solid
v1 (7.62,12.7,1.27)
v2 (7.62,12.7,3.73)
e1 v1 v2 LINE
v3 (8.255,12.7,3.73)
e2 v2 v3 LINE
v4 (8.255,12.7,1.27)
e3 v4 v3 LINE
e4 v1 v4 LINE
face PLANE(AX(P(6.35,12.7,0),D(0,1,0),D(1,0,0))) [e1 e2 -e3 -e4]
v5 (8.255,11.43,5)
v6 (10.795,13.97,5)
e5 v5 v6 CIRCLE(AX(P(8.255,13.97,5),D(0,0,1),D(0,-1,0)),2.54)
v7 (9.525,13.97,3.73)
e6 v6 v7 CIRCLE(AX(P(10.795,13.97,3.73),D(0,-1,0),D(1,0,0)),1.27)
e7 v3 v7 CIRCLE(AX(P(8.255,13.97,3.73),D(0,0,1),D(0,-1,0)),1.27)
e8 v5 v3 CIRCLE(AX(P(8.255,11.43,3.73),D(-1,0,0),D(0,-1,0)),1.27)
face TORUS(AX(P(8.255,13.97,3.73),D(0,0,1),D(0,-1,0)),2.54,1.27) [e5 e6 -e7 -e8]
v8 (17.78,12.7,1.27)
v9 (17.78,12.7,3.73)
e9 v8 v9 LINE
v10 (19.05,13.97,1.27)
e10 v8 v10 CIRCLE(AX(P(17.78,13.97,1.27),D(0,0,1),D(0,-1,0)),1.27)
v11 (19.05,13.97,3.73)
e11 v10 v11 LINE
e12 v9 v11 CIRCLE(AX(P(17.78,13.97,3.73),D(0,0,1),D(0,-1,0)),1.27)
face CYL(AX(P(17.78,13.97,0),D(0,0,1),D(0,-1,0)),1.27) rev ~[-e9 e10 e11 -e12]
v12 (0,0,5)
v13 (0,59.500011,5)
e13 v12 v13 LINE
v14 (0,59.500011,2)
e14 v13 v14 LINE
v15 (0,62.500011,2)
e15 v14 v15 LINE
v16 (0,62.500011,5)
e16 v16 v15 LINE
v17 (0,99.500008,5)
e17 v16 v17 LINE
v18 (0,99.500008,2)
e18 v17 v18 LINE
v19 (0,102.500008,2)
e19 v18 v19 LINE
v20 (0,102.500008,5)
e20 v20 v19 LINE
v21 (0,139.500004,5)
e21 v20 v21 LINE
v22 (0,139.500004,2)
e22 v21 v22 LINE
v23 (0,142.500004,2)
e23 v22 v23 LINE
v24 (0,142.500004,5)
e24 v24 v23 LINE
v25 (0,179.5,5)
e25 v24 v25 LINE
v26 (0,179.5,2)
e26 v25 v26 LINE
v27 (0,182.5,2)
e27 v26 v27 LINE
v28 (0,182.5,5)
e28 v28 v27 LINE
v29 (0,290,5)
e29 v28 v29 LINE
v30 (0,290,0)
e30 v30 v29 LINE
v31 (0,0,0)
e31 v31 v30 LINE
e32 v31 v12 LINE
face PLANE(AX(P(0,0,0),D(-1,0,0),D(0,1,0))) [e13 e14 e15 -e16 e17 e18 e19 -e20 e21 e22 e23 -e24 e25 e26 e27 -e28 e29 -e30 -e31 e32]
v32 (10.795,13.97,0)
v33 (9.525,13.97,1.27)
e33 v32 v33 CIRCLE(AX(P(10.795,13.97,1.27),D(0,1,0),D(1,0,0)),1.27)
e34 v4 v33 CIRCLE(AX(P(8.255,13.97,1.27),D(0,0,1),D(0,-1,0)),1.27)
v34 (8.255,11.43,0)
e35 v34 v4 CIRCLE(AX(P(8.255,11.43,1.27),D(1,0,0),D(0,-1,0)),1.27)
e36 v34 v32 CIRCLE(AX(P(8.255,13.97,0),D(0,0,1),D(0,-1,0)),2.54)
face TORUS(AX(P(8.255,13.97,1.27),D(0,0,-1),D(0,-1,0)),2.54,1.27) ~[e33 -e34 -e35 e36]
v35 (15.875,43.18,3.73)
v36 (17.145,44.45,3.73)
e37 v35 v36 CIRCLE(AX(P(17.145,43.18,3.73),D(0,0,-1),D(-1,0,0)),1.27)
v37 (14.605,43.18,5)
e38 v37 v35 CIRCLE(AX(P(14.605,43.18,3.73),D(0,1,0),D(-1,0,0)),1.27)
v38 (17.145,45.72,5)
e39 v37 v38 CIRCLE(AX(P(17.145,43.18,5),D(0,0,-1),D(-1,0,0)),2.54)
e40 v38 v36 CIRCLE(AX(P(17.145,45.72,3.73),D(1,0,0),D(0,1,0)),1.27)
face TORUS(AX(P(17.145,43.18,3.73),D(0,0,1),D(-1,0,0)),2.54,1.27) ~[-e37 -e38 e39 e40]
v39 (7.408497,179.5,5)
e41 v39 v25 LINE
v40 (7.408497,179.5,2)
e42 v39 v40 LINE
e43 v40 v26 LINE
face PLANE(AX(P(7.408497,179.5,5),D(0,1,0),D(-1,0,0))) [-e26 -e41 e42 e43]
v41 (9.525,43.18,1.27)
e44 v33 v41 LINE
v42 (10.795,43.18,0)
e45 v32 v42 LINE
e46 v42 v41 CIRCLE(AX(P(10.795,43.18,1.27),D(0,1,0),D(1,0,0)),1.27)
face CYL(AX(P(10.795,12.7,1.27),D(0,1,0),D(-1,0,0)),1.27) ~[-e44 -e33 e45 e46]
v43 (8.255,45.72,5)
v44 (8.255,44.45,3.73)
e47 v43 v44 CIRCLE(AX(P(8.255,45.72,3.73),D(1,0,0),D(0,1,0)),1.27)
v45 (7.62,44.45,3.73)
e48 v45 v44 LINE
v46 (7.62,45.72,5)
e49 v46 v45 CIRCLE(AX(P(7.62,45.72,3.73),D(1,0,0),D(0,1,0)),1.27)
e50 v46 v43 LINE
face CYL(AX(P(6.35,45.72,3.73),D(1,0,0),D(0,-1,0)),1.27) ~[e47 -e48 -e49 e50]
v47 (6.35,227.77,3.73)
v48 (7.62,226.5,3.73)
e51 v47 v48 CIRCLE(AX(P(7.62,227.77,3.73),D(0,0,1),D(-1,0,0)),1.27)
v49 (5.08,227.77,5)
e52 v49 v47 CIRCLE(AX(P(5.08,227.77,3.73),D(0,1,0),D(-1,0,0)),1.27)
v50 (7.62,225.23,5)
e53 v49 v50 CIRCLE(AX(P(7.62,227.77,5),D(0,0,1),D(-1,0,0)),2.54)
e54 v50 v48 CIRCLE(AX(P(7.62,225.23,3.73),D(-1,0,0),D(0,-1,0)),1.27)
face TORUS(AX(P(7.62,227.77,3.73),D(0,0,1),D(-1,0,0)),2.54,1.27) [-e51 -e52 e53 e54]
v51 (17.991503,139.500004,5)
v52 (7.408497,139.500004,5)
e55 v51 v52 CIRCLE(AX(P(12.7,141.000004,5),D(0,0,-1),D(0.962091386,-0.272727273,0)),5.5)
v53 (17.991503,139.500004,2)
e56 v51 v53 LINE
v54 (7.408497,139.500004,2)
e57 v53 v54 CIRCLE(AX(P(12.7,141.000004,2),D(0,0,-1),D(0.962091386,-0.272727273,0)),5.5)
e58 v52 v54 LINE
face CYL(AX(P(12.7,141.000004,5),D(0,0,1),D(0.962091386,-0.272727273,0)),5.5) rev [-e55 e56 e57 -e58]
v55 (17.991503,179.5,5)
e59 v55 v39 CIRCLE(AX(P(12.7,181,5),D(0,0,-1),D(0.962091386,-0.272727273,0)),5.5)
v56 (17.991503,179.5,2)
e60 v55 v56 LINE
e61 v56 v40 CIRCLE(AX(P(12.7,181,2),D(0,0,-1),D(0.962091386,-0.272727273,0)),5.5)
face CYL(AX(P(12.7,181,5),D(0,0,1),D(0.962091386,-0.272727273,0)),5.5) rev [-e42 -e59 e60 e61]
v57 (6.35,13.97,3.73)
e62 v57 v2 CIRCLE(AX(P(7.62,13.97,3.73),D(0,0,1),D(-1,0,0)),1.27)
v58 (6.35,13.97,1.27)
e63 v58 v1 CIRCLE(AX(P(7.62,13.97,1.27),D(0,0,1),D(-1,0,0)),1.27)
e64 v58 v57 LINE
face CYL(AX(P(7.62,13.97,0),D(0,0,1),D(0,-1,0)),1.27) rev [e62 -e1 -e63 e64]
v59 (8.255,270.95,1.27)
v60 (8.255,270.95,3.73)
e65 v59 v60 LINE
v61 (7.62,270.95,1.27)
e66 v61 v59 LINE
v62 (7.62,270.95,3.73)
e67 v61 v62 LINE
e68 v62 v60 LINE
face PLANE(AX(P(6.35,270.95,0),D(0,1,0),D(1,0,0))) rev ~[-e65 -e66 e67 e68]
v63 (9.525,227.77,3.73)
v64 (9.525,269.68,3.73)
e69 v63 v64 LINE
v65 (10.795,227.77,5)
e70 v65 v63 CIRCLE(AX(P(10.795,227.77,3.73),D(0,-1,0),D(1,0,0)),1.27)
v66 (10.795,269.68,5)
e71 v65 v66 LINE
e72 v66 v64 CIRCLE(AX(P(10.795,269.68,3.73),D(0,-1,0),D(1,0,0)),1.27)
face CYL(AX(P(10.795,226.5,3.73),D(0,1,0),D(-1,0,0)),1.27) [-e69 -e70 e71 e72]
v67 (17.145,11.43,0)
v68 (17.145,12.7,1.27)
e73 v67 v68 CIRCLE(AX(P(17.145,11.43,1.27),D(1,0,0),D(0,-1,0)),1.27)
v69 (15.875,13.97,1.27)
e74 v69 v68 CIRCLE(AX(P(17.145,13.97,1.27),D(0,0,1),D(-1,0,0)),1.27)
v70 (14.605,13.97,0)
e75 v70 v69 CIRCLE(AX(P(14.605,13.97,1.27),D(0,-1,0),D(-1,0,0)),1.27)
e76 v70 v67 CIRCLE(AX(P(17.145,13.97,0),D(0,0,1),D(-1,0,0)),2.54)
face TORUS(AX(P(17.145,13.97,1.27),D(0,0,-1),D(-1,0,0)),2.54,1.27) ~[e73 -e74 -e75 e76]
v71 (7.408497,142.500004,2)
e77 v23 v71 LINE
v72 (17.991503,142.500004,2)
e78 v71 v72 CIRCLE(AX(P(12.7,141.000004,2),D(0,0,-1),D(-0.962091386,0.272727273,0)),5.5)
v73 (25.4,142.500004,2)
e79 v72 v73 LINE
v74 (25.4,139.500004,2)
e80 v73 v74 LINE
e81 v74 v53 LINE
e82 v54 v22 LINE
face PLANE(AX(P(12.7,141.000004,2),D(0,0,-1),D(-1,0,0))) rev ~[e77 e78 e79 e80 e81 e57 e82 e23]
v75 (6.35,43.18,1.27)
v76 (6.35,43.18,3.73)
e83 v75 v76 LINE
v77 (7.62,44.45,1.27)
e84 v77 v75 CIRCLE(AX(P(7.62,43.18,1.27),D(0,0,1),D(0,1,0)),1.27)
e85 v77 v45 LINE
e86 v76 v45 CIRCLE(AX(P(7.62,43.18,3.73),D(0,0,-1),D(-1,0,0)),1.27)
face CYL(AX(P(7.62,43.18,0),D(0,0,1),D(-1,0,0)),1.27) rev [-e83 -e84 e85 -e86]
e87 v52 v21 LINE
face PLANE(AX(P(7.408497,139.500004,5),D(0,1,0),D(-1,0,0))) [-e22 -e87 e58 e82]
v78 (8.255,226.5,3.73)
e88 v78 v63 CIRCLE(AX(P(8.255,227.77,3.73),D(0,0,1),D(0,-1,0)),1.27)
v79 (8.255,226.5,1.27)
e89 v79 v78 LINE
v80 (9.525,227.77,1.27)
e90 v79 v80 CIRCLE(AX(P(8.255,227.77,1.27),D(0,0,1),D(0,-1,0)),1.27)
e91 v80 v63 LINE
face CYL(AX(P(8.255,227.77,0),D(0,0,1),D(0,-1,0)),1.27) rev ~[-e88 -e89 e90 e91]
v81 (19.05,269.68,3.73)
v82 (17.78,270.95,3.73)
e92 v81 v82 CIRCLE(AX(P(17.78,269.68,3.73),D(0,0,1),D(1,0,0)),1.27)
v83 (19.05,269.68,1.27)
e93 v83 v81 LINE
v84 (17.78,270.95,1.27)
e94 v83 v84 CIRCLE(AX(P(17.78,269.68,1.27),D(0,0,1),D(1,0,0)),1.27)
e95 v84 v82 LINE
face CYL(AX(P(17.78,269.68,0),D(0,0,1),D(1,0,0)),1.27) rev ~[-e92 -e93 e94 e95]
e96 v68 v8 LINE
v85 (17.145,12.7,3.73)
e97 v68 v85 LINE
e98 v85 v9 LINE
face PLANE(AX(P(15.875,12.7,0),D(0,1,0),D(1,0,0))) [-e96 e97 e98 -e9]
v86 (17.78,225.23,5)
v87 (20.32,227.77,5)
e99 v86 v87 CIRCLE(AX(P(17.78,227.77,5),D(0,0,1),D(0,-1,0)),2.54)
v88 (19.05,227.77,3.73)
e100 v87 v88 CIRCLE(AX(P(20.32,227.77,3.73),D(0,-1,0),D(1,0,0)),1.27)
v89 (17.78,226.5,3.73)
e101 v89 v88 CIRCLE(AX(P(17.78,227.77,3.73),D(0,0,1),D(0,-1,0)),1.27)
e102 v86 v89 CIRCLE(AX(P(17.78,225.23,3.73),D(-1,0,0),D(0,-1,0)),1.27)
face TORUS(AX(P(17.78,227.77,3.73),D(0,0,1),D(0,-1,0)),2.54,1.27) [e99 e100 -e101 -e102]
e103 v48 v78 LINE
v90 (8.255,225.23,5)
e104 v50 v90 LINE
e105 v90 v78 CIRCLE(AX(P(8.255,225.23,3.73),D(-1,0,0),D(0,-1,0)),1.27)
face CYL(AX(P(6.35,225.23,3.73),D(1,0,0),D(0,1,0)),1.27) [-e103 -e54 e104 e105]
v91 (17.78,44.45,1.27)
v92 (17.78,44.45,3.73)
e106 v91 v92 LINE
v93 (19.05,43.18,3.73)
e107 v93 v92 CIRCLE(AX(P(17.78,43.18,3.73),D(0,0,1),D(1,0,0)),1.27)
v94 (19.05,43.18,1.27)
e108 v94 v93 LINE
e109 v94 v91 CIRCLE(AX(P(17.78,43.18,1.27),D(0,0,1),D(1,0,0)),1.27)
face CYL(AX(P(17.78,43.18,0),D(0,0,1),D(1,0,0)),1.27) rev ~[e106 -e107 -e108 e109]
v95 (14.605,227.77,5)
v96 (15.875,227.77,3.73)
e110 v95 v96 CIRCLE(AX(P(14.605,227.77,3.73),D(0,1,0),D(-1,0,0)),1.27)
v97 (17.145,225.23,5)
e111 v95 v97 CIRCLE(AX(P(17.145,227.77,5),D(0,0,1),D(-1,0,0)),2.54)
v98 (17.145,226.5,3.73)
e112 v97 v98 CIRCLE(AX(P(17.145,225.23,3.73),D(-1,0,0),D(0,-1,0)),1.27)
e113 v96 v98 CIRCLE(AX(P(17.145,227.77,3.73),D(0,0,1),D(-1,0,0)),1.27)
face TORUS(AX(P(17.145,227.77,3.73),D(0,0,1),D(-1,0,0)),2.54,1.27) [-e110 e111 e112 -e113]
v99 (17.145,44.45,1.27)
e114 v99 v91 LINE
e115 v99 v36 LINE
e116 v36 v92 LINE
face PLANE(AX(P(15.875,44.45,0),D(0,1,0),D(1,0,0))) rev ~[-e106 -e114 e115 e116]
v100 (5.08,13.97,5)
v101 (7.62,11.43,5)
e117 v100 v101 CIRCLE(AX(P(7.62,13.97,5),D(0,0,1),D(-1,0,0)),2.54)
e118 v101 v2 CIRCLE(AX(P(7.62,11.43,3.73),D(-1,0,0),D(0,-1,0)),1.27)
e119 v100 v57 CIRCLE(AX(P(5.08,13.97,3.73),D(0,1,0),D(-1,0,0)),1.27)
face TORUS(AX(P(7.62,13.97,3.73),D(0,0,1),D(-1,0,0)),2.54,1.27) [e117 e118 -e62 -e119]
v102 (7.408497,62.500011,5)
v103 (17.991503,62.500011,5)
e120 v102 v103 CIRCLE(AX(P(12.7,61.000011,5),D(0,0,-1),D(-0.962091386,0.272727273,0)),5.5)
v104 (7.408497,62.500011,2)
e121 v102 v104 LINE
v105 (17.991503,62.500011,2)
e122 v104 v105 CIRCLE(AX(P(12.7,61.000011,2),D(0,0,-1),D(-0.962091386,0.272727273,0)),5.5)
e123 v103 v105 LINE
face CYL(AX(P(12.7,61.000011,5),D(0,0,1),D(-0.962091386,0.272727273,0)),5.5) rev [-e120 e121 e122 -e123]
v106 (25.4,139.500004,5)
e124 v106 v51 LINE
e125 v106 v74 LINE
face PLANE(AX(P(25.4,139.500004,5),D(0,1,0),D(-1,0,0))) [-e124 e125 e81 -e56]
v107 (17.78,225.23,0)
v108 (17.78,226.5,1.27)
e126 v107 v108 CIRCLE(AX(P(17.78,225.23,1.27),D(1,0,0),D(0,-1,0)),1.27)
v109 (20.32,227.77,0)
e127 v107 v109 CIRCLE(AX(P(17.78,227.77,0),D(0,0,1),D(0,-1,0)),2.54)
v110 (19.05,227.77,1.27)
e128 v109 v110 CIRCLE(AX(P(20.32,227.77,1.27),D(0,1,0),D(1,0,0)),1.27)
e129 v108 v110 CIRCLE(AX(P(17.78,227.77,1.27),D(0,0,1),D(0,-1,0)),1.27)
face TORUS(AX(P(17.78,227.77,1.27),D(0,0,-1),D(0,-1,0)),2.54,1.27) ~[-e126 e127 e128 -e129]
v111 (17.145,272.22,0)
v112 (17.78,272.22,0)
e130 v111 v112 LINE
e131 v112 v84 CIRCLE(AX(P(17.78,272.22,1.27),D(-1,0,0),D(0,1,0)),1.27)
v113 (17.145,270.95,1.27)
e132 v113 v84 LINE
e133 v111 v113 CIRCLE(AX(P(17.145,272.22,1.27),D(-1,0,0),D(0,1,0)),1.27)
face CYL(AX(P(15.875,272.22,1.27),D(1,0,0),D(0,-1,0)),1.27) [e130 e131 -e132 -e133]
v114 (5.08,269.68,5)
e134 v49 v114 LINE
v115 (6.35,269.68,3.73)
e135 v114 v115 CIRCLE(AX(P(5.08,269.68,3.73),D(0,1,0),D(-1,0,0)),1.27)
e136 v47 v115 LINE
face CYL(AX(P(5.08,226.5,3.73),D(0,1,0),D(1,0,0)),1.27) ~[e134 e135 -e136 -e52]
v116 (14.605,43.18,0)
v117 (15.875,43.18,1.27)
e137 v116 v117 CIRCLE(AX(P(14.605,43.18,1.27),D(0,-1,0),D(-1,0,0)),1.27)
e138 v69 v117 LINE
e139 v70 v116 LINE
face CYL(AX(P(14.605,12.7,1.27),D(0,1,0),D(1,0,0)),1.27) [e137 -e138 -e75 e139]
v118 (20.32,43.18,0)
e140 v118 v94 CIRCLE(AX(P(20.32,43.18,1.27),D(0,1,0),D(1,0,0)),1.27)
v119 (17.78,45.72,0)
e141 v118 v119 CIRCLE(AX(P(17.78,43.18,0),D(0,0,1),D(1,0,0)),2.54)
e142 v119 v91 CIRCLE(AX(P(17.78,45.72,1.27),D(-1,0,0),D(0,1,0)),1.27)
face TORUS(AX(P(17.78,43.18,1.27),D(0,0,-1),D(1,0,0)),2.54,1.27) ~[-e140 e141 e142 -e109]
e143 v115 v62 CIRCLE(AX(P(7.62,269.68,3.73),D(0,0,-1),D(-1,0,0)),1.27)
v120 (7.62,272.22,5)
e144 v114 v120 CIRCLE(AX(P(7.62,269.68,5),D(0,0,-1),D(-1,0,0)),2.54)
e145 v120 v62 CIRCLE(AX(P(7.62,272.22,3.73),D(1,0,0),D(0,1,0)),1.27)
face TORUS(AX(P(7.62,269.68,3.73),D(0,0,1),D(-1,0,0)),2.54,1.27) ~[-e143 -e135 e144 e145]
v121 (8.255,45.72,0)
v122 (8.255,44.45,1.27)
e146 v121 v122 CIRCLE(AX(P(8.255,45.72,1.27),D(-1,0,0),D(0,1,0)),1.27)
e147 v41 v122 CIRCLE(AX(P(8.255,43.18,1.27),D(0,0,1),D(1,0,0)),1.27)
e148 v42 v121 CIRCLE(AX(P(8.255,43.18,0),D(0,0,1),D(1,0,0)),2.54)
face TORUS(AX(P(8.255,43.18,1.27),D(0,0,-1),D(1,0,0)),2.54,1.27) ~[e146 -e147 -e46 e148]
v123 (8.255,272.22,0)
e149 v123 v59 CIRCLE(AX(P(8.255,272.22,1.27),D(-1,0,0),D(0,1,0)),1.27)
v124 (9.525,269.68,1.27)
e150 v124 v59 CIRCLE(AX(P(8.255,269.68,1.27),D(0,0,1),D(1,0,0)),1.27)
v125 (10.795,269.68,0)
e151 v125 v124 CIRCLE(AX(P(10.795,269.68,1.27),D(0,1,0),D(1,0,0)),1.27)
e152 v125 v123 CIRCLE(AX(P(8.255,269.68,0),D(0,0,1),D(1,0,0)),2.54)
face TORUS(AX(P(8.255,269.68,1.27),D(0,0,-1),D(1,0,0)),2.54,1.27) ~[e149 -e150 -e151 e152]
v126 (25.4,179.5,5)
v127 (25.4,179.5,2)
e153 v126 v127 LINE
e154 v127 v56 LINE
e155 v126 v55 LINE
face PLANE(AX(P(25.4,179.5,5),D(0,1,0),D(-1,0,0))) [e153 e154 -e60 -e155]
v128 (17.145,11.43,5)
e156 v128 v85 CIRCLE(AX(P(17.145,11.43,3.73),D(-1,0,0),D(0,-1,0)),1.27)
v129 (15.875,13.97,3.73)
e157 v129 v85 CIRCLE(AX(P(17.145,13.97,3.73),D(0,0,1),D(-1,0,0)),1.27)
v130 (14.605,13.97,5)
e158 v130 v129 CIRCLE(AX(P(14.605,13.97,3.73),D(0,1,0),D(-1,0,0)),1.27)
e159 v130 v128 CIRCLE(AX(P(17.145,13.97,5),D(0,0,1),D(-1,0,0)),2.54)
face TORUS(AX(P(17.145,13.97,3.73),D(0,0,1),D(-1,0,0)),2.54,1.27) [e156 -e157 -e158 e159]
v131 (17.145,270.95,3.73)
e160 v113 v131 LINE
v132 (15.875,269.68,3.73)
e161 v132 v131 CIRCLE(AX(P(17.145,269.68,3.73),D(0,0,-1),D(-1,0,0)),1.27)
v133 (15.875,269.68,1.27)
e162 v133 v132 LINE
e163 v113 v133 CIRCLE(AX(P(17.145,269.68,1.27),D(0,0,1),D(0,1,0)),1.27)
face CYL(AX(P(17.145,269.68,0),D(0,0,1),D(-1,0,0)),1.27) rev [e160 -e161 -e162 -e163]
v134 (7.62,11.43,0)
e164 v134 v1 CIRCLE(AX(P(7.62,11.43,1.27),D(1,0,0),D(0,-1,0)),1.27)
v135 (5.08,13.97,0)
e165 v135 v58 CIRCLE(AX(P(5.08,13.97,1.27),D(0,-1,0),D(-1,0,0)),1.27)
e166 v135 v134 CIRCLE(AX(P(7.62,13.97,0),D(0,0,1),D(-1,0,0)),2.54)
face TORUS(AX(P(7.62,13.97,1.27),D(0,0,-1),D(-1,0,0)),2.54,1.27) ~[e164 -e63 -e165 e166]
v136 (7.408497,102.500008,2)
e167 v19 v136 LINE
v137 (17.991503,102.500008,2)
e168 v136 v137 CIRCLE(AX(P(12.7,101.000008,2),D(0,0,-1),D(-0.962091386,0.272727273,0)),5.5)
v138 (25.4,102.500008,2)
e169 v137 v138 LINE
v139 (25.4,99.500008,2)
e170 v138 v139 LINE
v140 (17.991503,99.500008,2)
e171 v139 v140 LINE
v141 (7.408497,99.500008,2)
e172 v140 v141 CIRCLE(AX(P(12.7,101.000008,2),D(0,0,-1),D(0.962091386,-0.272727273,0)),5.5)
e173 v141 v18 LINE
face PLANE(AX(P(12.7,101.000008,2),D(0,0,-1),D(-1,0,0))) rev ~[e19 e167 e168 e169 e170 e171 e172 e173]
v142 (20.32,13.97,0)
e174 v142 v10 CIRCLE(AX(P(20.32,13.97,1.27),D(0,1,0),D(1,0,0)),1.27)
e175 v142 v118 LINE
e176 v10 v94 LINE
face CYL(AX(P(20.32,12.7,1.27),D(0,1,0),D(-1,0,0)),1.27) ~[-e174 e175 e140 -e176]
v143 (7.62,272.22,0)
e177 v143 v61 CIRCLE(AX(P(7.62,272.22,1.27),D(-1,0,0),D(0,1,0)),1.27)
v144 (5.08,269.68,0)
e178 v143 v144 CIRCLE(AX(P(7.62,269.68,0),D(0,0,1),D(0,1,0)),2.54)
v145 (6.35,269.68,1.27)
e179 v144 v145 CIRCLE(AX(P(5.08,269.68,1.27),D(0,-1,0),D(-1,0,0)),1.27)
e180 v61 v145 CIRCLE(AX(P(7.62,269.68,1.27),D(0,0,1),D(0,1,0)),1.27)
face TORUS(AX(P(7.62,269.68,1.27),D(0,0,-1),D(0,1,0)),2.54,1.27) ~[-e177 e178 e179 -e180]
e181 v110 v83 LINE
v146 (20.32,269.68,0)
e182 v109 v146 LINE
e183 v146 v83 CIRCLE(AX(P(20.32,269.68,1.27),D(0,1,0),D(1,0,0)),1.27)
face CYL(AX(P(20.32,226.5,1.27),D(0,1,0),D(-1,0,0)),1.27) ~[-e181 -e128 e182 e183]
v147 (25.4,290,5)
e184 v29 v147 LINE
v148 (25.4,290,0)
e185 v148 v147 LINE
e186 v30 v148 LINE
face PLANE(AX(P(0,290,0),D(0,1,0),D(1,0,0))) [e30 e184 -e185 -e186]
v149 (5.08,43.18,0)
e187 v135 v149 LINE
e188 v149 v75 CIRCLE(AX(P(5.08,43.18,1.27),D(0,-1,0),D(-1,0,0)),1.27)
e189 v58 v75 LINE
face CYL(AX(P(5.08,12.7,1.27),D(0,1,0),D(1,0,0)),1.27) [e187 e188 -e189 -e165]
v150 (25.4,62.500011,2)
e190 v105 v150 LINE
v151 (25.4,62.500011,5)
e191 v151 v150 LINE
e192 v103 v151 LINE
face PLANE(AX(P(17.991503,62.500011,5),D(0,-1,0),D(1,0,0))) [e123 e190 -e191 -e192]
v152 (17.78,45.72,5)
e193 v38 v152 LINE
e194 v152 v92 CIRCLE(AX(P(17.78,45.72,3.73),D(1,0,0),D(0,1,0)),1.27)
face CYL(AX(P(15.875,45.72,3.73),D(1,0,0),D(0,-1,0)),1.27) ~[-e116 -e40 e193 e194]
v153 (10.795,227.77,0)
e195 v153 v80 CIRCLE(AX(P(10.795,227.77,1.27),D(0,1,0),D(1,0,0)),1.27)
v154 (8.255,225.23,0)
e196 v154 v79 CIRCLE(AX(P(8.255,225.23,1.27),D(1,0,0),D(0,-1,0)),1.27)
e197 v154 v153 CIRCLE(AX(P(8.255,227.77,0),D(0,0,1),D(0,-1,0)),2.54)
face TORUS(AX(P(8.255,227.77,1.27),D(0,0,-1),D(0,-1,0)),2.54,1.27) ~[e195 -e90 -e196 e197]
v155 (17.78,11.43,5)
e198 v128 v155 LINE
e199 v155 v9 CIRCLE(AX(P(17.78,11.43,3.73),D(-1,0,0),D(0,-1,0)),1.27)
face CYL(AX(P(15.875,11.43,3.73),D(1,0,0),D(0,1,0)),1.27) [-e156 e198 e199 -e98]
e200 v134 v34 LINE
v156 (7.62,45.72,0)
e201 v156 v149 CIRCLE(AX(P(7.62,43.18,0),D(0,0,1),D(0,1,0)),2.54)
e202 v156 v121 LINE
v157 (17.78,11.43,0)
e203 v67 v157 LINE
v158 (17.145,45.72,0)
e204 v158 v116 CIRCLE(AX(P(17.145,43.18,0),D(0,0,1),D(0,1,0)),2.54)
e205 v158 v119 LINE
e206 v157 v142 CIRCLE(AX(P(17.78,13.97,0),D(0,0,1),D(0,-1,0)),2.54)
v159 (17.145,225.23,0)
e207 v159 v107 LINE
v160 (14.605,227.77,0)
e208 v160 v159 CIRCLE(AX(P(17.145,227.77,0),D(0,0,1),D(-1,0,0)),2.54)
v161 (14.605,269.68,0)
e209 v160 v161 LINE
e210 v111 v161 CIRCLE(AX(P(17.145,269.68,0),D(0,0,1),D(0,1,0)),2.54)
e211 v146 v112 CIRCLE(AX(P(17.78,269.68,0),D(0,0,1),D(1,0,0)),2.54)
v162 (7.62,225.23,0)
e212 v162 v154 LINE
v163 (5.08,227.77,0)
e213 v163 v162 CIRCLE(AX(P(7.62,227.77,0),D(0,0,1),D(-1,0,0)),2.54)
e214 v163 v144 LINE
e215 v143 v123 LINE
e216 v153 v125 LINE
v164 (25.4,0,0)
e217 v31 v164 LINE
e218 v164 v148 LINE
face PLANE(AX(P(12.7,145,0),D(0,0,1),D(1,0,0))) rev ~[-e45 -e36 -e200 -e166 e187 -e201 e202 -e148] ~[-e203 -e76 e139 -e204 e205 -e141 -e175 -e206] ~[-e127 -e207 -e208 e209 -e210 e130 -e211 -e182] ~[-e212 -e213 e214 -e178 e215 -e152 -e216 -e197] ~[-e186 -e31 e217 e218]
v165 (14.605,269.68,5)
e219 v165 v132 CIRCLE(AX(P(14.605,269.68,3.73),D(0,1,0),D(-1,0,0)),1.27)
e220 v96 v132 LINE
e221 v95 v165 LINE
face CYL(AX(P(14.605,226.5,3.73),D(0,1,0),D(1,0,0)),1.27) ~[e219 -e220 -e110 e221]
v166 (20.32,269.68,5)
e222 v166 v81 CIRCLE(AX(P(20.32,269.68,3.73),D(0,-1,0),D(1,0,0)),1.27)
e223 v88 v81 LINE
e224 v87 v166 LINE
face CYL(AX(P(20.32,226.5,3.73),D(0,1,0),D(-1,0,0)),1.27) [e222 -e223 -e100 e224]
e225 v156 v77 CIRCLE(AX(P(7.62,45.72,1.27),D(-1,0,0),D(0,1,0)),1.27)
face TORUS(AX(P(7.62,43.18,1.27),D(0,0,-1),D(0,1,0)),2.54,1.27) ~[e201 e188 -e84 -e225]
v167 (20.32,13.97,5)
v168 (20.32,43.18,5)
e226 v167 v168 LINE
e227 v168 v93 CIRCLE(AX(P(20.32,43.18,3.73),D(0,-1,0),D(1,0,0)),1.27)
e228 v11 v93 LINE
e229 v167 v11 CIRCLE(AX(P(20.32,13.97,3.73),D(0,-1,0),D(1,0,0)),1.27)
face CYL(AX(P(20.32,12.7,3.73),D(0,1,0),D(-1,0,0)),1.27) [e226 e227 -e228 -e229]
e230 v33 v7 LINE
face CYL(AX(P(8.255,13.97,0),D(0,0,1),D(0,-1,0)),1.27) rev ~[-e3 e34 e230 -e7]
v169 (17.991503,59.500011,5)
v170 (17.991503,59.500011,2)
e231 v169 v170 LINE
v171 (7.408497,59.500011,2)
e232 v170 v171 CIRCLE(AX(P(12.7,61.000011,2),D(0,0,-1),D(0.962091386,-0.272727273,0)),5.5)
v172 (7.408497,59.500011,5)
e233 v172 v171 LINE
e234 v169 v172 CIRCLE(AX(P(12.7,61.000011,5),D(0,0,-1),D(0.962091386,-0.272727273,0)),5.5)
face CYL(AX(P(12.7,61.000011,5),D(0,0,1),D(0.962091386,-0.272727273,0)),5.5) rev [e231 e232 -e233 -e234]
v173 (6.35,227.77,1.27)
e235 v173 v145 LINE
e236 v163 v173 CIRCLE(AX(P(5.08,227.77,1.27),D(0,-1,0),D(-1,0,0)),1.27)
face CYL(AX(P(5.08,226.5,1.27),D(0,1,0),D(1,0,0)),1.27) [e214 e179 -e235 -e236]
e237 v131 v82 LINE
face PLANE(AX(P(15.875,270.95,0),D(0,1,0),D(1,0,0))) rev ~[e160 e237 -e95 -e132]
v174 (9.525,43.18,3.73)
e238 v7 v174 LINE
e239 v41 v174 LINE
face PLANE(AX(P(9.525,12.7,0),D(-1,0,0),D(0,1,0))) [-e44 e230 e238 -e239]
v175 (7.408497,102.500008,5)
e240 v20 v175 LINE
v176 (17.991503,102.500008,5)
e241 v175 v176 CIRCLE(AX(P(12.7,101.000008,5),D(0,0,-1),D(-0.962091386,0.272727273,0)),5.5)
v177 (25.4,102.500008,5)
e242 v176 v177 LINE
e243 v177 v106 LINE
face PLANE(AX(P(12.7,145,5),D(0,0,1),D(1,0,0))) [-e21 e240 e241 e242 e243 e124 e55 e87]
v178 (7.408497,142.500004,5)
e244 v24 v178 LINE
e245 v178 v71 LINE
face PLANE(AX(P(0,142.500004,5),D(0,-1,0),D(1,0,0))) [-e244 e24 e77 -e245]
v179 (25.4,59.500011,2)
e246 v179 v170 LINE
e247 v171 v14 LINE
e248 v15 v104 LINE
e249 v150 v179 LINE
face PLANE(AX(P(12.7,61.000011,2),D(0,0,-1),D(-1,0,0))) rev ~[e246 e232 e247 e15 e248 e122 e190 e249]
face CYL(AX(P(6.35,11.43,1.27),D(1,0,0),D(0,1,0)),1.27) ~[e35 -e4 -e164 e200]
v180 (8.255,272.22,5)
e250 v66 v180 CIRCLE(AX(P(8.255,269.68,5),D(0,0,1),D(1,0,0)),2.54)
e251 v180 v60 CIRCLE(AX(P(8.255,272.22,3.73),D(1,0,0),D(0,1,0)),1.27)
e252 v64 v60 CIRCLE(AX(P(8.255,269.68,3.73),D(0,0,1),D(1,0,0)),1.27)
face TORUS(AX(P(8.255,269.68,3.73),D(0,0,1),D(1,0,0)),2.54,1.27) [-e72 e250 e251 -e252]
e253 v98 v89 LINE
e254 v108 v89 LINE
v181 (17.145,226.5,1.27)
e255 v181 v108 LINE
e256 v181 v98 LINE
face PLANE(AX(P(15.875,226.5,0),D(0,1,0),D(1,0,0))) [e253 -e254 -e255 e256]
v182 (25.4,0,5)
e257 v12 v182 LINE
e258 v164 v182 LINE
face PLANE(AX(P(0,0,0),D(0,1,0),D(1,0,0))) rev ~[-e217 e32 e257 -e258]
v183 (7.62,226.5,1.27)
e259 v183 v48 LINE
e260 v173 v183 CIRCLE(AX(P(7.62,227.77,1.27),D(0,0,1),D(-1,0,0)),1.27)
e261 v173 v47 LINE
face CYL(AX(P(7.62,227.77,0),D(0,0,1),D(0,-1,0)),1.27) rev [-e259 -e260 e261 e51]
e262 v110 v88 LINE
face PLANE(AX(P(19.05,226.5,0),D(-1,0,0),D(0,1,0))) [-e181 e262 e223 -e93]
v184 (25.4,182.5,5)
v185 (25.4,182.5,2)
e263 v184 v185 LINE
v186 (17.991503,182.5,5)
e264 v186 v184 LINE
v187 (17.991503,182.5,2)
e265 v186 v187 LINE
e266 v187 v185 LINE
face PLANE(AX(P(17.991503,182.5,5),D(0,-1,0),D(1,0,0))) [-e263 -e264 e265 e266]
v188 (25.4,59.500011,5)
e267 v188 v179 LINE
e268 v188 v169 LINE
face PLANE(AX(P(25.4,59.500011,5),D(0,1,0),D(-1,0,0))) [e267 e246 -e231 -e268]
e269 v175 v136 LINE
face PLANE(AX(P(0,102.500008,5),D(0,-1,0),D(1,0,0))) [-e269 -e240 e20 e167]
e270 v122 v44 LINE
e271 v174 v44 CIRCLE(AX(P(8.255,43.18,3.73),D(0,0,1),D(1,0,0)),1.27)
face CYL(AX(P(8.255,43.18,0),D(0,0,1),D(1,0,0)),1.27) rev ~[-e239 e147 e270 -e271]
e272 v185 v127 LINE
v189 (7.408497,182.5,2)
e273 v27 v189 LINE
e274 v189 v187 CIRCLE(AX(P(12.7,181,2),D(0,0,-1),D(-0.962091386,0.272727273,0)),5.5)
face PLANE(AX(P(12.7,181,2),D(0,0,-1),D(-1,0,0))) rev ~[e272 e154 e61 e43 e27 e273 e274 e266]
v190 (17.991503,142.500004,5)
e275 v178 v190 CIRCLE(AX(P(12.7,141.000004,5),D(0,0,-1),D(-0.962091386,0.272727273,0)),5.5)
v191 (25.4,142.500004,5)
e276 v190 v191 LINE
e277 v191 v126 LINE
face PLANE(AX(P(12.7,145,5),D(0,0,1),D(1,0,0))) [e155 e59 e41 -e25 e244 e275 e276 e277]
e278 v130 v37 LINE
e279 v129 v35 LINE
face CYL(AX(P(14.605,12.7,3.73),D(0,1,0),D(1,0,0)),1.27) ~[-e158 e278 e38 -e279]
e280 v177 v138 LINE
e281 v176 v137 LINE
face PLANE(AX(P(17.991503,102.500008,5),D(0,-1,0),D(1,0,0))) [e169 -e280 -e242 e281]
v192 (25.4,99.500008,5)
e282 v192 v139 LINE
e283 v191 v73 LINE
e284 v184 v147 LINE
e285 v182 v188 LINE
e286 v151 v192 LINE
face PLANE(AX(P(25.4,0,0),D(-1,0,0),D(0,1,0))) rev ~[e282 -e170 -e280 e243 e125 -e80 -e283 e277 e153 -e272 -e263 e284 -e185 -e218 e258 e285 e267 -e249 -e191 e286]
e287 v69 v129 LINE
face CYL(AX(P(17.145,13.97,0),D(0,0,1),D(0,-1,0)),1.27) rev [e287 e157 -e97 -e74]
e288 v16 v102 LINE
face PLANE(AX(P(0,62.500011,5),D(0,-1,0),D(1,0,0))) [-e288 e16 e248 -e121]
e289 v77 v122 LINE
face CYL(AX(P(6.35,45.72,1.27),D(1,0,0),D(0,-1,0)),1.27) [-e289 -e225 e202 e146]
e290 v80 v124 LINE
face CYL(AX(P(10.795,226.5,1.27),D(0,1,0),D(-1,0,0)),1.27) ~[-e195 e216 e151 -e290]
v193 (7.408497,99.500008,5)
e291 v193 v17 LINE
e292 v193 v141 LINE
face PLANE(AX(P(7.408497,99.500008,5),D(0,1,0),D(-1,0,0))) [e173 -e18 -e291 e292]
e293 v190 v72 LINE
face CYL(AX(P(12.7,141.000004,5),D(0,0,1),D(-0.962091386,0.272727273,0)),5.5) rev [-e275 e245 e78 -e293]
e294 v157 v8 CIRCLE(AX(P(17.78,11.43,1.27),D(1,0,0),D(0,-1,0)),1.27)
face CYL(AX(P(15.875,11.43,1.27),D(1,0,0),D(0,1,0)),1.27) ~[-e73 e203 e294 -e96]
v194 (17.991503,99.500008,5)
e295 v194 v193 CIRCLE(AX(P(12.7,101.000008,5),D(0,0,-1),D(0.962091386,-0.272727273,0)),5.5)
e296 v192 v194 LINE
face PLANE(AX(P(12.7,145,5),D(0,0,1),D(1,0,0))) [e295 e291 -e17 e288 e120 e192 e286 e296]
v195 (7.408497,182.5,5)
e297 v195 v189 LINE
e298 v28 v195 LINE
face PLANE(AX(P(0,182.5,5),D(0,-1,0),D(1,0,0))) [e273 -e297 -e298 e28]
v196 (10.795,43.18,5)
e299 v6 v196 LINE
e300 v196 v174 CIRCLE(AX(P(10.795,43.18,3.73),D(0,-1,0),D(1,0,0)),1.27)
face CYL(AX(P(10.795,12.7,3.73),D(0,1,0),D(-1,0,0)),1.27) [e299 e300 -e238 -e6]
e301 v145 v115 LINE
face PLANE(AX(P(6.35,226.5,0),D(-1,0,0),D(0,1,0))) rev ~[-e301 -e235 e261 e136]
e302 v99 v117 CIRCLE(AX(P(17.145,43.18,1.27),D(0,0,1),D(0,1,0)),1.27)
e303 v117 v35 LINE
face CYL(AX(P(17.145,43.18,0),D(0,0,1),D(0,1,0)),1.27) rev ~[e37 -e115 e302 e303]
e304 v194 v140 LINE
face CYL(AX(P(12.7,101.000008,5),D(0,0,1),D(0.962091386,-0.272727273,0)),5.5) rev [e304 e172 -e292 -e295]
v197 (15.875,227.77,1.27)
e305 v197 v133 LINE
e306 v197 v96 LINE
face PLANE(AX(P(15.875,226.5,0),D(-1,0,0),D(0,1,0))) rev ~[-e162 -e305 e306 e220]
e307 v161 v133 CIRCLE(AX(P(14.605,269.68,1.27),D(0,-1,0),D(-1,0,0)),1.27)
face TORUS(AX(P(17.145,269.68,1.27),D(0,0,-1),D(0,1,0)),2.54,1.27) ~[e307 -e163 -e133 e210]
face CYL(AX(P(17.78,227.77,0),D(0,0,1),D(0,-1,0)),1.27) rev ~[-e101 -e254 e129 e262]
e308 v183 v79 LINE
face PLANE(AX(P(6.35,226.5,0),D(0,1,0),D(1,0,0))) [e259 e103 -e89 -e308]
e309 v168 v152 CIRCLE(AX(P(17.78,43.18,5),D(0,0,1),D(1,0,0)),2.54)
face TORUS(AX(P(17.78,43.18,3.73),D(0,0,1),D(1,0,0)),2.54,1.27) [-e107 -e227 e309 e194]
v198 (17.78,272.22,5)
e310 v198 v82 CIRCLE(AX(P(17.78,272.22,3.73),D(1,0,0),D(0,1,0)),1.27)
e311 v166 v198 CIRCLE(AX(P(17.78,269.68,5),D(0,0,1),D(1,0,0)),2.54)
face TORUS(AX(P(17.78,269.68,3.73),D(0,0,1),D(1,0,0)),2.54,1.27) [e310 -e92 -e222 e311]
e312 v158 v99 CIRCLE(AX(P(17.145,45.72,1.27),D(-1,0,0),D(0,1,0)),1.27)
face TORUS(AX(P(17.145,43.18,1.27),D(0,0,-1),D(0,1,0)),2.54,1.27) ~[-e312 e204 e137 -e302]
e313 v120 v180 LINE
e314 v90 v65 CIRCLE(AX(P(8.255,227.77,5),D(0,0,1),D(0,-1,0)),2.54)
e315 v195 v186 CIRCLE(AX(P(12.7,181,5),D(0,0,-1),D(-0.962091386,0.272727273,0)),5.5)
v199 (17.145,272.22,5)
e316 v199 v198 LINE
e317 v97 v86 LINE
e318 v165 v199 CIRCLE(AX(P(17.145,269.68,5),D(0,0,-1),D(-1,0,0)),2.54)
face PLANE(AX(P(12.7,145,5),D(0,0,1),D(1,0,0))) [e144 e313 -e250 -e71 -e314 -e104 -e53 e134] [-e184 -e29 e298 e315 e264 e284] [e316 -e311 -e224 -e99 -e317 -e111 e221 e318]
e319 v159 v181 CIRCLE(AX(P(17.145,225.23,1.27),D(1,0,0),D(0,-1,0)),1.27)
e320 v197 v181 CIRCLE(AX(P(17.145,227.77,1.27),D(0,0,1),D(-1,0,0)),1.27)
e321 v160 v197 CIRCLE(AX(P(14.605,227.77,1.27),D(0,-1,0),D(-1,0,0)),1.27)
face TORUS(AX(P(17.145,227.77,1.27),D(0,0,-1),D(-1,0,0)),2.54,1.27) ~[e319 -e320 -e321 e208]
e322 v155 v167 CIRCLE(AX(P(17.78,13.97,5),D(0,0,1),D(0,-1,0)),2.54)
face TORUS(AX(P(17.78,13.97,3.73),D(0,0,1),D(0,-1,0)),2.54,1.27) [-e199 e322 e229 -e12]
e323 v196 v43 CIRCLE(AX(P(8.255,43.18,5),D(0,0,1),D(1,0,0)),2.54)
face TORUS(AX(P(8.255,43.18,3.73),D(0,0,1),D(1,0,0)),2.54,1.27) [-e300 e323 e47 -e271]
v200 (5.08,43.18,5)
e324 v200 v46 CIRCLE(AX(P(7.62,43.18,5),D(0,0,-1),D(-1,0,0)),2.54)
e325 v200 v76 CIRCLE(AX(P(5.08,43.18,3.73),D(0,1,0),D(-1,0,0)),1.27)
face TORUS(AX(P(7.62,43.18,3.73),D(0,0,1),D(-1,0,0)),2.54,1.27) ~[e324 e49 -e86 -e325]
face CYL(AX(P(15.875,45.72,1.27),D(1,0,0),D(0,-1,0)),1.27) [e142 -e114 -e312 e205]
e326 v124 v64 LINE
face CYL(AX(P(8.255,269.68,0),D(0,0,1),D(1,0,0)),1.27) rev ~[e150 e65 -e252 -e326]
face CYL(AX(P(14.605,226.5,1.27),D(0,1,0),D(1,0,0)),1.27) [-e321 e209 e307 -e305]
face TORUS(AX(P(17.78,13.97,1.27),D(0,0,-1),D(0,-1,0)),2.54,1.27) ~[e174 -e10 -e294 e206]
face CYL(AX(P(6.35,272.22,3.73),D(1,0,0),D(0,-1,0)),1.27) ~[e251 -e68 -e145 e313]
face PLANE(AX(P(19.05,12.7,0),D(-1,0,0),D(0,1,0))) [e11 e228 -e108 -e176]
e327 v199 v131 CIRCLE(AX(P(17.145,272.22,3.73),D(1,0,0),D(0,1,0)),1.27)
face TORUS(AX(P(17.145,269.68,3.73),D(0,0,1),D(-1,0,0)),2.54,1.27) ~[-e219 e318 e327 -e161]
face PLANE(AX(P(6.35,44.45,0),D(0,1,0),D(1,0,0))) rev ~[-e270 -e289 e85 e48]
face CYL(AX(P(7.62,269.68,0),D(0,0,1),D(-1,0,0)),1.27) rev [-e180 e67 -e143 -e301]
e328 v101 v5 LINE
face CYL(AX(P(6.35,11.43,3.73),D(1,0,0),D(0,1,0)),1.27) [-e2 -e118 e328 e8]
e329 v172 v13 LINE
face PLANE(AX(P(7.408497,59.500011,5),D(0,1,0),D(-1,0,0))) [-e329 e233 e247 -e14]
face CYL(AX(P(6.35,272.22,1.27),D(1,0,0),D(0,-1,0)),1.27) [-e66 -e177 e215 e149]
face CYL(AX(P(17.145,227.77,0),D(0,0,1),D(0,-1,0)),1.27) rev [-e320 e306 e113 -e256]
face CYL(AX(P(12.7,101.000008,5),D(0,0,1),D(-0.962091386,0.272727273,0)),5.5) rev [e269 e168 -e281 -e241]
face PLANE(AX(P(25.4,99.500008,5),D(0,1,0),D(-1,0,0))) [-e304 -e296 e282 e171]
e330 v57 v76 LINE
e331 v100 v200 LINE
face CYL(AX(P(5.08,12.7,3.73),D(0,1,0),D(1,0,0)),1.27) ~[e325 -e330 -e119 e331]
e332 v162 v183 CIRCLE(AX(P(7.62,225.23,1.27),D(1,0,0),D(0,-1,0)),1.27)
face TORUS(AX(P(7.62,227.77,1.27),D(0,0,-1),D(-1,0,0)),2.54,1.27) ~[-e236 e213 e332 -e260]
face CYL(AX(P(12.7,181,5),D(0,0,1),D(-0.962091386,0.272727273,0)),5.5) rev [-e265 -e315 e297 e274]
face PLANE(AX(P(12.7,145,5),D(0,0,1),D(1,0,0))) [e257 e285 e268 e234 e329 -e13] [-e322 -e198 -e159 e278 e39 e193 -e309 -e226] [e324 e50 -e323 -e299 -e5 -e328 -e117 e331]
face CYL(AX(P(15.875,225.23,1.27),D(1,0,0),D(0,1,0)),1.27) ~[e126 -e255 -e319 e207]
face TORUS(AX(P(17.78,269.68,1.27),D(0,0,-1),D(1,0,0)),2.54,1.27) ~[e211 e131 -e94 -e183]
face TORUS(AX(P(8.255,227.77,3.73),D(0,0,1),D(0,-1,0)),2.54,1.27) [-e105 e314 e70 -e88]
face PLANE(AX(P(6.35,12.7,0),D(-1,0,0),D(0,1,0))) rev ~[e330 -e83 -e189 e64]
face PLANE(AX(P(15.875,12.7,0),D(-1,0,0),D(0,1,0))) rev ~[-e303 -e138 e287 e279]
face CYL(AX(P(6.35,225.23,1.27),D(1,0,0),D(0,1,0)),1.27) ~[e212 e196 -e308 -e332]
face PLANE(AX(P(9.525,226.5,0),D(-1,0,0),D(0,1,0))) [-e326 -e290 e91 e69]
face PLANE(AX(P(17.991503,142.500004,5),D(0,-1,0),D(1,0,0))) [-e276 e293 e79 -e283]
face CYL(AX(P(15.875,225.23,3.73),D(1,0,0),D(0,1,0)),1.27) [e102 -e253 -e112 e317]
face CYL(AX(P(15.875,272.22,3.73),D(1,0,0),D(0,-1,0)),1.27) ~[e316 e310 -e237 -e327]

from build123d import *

# Parameters (mm, degrees)
SKETCH1_W           = 25.4
SKETCH1_H           = 290
SKETCH1_W_2         = 3.175
SKETCH1_H_2         = 44.45
SKETCH1_H_3         = 31.75
BOSS_EXTRUDE1_DEPTH = 5
FILLET1_R           = 1.27
CUT_EXTRUDE1_DEPTH  = 3.000000096


with BuildPart() as part:
    # Sketch1 → Boss-Extrude1 (new body)
    with BuildSketch(Plane.XY):
        with Locations((12.7, 145)):
            Rectangle(SKETCH1_W, SKETCH1_H)
        with Locations((7.9375, 248.725)):
            Rectangle(SKETCH1_W_2, SKETCH1_H_2, mode=Mode.SUBTRACT)
        with Locations((17.4625, 248.725)):
            Rectangle(SKETCH1_W_2, SKETCH1_H_2, mode=Mode.SUBTRACT)
        with Locations((7.9375, 28.575)):
            Rectangle(SKETCH1_W_2, SKETCH1_H_3, mode=Mode.SUBTRACT)
        with Locations((17.4625, 28.575)):
            Rectangle(SKETCH1_W_2, SKETCH1_H_3, mode=Mode.SUBTRACT)
    extrude(amount=BOSS_EXTRUDE1_DEPTH)

    # Fillet1
    fillet1_edges = [part.edges().sort_by_distance(p)[0] for p in [
        (6.35, 248.725, 0),
        (6.35, 270.95, 2.5),
        (7.9375, 226.5, 0),
        (6.35, 226.5, 2.5),
        (9.525, 248.725, 0),
        (9.525, 226.5, 2.5),
        (7.9375, 270.95, 0),
        (9.525, 270.95, 2.5),
        (6.35, 248.725, 5),
        (7.9375, 226.5, 5),
        (9.525, 248.725, 5),
        (7.9375, 270.95, 5),
        (15.875, 248.725, 0),
        (15.875, 270.95, 2.5),
        (17.4625, 226.5, 0),
        (15.875, 226.5, 2.5),
        (19.05, 248.725, 0),
        (19.05, 226.5, 2.5),
        (17.4625, 270.95, 0),
        (19.05, 270.95, 2.5),
        (15.875, 248.725, 5),
        (17.4625, 226.5, 5),
        (19.05, 248.725, 5),
        (17.4625, 270.95, 5),
        (15.875, 28.575, 0),
        (15.875, 44.45, 2.5),
        (17.4625, 12.7, 0),
        (15.875, 12.7, 2.5),
        (19.05, 28.575, 0),
        (19.05, 12.7, 2.5),
        (17.4625, 44.45, 0),
        (19.05, 44.45, 2.5),
        (15.875, 28.575, 5),
        (17.4625, 12.7, 5),
        (19.05, 28.575, 5),
        (17.4625, 44.45, 5),
        (6.35, 28.575, 0),
        (6.35, 44.45, 2.5),
        (7.9375, 12.7, 0),
        (6.35, 12.7, 2.5),
        (9.525, 28.575, 0),
        (9.525, 12.7, 2.5),
        (7.9375, 44.45, 0),
        (9.525, 44.45, 2.5),
        (6.35, 28.575, 5),
        (7.9375, 12.7, 5),
        (9.525, 28.575, 5),
        (7.9375, 44.45, 5),
    ]]
    fillet(fillet1_edges, radius=FILLET1_R)

    # Sketch2 → Cut-Extrude1 (cut)
    with BuildSketch(Plane.XY.offset(5)):
        with BuildLine():
            Line((17.991502622, 182.5), (25.4, 182.5))
            Line((25.4, 182.5), (25.4, 179.5))
            Line((25.4, 179.5), (17.991502622, 179.5))
            ThreePointArc((17.991502622, 179.5), (12.7, 175.5), (7.408497378, 179.5))
            Line((7.408497378, 179.5), (0, 179.5))
            Line((0, 179.5), (0, 182.5))
            Line((0, 182.5), (7.408497378, 182.5))
            ThreePointArc((7.408497378, 182.5), (12.7, 186.5), (17.991502622, 182.5))
        make_face()
        with BuildLine():
            Line((17.991502622, 142.5000038), (25.4, 142.5000038))
            Line((25.4, 142.5000038), (25.4, 139.5000038))
            Line((25.4, 139.5000038), (17.991502622, 139.5000038))
            ThreePointArc((17.991502622, 139.5000038), (12.7, 135.5000038), (7.408497378, 139.5000038))
            Line((7.408497378, 139.5000038), (0, 139.5000038))
            Line((0, 139.5000038), (0, 142.5000038))
            Line((0, 142.5000038), (7.408497378, 142.5000038))
            ThreePointArc((7.408497378, 142.5000038), (12.7, 146.5000038), (17.991502622, 142.5000038))
        make_face()
        with BuildLine():
            Line((17.991502622, 102.5000076), (25.4, 102.5000076))
            Line((25.4, 102.5000076), (25.4, 99.5000076))
            Line((25.4, 99.5000076), (17.991502622, 99.5000076))
            ThreePointArc((17.991502622, 99.5000076), (12.7, 95.5000076), (7.408497378, 99.5000076))
            Line((7.408497378, 99.5000076), (0, 99.5000076))
            Line((0, 99.5000076), (0, 102.5000076))
            Line((0, 102.5000076), (7.408497378, 102.5000076))
            ThreePointArc((7.408497378, 102.5000076), (12.7, 106.5000076), (17.991502622, 102.5000076))
        make_face()
        with BuildLine():
            Line((17.991502622, 62.5000114), (25.4, 62.5000114))
            Line((25.4, 62.5000114), (25.4, 59.5000114))
            Line((25.4, 59.5000114), (17.991502622, 59.5000114))
            ThreePointArc((17.991502622, 59.5000114), (12.7, 55.5000114), (7.408497378, 59.5000114))
            Line((7.408497378, 59.5000114), (0, 59.5000114))
            Line((0, 59.5000114), (0, 62.5000114))
            Line((0, 62.5000114), (7.408497378, 62.5000114))
            ThreePointArc((7.408497378, 62.5000114), (12.7, 66.5000114), (17.991502622, 62.5000114))
        make_face()
    extrude(amount=-CUT_EXTRUDE1_DEPTH, mode=Mode.SUBTRACT)


solid = part.part
